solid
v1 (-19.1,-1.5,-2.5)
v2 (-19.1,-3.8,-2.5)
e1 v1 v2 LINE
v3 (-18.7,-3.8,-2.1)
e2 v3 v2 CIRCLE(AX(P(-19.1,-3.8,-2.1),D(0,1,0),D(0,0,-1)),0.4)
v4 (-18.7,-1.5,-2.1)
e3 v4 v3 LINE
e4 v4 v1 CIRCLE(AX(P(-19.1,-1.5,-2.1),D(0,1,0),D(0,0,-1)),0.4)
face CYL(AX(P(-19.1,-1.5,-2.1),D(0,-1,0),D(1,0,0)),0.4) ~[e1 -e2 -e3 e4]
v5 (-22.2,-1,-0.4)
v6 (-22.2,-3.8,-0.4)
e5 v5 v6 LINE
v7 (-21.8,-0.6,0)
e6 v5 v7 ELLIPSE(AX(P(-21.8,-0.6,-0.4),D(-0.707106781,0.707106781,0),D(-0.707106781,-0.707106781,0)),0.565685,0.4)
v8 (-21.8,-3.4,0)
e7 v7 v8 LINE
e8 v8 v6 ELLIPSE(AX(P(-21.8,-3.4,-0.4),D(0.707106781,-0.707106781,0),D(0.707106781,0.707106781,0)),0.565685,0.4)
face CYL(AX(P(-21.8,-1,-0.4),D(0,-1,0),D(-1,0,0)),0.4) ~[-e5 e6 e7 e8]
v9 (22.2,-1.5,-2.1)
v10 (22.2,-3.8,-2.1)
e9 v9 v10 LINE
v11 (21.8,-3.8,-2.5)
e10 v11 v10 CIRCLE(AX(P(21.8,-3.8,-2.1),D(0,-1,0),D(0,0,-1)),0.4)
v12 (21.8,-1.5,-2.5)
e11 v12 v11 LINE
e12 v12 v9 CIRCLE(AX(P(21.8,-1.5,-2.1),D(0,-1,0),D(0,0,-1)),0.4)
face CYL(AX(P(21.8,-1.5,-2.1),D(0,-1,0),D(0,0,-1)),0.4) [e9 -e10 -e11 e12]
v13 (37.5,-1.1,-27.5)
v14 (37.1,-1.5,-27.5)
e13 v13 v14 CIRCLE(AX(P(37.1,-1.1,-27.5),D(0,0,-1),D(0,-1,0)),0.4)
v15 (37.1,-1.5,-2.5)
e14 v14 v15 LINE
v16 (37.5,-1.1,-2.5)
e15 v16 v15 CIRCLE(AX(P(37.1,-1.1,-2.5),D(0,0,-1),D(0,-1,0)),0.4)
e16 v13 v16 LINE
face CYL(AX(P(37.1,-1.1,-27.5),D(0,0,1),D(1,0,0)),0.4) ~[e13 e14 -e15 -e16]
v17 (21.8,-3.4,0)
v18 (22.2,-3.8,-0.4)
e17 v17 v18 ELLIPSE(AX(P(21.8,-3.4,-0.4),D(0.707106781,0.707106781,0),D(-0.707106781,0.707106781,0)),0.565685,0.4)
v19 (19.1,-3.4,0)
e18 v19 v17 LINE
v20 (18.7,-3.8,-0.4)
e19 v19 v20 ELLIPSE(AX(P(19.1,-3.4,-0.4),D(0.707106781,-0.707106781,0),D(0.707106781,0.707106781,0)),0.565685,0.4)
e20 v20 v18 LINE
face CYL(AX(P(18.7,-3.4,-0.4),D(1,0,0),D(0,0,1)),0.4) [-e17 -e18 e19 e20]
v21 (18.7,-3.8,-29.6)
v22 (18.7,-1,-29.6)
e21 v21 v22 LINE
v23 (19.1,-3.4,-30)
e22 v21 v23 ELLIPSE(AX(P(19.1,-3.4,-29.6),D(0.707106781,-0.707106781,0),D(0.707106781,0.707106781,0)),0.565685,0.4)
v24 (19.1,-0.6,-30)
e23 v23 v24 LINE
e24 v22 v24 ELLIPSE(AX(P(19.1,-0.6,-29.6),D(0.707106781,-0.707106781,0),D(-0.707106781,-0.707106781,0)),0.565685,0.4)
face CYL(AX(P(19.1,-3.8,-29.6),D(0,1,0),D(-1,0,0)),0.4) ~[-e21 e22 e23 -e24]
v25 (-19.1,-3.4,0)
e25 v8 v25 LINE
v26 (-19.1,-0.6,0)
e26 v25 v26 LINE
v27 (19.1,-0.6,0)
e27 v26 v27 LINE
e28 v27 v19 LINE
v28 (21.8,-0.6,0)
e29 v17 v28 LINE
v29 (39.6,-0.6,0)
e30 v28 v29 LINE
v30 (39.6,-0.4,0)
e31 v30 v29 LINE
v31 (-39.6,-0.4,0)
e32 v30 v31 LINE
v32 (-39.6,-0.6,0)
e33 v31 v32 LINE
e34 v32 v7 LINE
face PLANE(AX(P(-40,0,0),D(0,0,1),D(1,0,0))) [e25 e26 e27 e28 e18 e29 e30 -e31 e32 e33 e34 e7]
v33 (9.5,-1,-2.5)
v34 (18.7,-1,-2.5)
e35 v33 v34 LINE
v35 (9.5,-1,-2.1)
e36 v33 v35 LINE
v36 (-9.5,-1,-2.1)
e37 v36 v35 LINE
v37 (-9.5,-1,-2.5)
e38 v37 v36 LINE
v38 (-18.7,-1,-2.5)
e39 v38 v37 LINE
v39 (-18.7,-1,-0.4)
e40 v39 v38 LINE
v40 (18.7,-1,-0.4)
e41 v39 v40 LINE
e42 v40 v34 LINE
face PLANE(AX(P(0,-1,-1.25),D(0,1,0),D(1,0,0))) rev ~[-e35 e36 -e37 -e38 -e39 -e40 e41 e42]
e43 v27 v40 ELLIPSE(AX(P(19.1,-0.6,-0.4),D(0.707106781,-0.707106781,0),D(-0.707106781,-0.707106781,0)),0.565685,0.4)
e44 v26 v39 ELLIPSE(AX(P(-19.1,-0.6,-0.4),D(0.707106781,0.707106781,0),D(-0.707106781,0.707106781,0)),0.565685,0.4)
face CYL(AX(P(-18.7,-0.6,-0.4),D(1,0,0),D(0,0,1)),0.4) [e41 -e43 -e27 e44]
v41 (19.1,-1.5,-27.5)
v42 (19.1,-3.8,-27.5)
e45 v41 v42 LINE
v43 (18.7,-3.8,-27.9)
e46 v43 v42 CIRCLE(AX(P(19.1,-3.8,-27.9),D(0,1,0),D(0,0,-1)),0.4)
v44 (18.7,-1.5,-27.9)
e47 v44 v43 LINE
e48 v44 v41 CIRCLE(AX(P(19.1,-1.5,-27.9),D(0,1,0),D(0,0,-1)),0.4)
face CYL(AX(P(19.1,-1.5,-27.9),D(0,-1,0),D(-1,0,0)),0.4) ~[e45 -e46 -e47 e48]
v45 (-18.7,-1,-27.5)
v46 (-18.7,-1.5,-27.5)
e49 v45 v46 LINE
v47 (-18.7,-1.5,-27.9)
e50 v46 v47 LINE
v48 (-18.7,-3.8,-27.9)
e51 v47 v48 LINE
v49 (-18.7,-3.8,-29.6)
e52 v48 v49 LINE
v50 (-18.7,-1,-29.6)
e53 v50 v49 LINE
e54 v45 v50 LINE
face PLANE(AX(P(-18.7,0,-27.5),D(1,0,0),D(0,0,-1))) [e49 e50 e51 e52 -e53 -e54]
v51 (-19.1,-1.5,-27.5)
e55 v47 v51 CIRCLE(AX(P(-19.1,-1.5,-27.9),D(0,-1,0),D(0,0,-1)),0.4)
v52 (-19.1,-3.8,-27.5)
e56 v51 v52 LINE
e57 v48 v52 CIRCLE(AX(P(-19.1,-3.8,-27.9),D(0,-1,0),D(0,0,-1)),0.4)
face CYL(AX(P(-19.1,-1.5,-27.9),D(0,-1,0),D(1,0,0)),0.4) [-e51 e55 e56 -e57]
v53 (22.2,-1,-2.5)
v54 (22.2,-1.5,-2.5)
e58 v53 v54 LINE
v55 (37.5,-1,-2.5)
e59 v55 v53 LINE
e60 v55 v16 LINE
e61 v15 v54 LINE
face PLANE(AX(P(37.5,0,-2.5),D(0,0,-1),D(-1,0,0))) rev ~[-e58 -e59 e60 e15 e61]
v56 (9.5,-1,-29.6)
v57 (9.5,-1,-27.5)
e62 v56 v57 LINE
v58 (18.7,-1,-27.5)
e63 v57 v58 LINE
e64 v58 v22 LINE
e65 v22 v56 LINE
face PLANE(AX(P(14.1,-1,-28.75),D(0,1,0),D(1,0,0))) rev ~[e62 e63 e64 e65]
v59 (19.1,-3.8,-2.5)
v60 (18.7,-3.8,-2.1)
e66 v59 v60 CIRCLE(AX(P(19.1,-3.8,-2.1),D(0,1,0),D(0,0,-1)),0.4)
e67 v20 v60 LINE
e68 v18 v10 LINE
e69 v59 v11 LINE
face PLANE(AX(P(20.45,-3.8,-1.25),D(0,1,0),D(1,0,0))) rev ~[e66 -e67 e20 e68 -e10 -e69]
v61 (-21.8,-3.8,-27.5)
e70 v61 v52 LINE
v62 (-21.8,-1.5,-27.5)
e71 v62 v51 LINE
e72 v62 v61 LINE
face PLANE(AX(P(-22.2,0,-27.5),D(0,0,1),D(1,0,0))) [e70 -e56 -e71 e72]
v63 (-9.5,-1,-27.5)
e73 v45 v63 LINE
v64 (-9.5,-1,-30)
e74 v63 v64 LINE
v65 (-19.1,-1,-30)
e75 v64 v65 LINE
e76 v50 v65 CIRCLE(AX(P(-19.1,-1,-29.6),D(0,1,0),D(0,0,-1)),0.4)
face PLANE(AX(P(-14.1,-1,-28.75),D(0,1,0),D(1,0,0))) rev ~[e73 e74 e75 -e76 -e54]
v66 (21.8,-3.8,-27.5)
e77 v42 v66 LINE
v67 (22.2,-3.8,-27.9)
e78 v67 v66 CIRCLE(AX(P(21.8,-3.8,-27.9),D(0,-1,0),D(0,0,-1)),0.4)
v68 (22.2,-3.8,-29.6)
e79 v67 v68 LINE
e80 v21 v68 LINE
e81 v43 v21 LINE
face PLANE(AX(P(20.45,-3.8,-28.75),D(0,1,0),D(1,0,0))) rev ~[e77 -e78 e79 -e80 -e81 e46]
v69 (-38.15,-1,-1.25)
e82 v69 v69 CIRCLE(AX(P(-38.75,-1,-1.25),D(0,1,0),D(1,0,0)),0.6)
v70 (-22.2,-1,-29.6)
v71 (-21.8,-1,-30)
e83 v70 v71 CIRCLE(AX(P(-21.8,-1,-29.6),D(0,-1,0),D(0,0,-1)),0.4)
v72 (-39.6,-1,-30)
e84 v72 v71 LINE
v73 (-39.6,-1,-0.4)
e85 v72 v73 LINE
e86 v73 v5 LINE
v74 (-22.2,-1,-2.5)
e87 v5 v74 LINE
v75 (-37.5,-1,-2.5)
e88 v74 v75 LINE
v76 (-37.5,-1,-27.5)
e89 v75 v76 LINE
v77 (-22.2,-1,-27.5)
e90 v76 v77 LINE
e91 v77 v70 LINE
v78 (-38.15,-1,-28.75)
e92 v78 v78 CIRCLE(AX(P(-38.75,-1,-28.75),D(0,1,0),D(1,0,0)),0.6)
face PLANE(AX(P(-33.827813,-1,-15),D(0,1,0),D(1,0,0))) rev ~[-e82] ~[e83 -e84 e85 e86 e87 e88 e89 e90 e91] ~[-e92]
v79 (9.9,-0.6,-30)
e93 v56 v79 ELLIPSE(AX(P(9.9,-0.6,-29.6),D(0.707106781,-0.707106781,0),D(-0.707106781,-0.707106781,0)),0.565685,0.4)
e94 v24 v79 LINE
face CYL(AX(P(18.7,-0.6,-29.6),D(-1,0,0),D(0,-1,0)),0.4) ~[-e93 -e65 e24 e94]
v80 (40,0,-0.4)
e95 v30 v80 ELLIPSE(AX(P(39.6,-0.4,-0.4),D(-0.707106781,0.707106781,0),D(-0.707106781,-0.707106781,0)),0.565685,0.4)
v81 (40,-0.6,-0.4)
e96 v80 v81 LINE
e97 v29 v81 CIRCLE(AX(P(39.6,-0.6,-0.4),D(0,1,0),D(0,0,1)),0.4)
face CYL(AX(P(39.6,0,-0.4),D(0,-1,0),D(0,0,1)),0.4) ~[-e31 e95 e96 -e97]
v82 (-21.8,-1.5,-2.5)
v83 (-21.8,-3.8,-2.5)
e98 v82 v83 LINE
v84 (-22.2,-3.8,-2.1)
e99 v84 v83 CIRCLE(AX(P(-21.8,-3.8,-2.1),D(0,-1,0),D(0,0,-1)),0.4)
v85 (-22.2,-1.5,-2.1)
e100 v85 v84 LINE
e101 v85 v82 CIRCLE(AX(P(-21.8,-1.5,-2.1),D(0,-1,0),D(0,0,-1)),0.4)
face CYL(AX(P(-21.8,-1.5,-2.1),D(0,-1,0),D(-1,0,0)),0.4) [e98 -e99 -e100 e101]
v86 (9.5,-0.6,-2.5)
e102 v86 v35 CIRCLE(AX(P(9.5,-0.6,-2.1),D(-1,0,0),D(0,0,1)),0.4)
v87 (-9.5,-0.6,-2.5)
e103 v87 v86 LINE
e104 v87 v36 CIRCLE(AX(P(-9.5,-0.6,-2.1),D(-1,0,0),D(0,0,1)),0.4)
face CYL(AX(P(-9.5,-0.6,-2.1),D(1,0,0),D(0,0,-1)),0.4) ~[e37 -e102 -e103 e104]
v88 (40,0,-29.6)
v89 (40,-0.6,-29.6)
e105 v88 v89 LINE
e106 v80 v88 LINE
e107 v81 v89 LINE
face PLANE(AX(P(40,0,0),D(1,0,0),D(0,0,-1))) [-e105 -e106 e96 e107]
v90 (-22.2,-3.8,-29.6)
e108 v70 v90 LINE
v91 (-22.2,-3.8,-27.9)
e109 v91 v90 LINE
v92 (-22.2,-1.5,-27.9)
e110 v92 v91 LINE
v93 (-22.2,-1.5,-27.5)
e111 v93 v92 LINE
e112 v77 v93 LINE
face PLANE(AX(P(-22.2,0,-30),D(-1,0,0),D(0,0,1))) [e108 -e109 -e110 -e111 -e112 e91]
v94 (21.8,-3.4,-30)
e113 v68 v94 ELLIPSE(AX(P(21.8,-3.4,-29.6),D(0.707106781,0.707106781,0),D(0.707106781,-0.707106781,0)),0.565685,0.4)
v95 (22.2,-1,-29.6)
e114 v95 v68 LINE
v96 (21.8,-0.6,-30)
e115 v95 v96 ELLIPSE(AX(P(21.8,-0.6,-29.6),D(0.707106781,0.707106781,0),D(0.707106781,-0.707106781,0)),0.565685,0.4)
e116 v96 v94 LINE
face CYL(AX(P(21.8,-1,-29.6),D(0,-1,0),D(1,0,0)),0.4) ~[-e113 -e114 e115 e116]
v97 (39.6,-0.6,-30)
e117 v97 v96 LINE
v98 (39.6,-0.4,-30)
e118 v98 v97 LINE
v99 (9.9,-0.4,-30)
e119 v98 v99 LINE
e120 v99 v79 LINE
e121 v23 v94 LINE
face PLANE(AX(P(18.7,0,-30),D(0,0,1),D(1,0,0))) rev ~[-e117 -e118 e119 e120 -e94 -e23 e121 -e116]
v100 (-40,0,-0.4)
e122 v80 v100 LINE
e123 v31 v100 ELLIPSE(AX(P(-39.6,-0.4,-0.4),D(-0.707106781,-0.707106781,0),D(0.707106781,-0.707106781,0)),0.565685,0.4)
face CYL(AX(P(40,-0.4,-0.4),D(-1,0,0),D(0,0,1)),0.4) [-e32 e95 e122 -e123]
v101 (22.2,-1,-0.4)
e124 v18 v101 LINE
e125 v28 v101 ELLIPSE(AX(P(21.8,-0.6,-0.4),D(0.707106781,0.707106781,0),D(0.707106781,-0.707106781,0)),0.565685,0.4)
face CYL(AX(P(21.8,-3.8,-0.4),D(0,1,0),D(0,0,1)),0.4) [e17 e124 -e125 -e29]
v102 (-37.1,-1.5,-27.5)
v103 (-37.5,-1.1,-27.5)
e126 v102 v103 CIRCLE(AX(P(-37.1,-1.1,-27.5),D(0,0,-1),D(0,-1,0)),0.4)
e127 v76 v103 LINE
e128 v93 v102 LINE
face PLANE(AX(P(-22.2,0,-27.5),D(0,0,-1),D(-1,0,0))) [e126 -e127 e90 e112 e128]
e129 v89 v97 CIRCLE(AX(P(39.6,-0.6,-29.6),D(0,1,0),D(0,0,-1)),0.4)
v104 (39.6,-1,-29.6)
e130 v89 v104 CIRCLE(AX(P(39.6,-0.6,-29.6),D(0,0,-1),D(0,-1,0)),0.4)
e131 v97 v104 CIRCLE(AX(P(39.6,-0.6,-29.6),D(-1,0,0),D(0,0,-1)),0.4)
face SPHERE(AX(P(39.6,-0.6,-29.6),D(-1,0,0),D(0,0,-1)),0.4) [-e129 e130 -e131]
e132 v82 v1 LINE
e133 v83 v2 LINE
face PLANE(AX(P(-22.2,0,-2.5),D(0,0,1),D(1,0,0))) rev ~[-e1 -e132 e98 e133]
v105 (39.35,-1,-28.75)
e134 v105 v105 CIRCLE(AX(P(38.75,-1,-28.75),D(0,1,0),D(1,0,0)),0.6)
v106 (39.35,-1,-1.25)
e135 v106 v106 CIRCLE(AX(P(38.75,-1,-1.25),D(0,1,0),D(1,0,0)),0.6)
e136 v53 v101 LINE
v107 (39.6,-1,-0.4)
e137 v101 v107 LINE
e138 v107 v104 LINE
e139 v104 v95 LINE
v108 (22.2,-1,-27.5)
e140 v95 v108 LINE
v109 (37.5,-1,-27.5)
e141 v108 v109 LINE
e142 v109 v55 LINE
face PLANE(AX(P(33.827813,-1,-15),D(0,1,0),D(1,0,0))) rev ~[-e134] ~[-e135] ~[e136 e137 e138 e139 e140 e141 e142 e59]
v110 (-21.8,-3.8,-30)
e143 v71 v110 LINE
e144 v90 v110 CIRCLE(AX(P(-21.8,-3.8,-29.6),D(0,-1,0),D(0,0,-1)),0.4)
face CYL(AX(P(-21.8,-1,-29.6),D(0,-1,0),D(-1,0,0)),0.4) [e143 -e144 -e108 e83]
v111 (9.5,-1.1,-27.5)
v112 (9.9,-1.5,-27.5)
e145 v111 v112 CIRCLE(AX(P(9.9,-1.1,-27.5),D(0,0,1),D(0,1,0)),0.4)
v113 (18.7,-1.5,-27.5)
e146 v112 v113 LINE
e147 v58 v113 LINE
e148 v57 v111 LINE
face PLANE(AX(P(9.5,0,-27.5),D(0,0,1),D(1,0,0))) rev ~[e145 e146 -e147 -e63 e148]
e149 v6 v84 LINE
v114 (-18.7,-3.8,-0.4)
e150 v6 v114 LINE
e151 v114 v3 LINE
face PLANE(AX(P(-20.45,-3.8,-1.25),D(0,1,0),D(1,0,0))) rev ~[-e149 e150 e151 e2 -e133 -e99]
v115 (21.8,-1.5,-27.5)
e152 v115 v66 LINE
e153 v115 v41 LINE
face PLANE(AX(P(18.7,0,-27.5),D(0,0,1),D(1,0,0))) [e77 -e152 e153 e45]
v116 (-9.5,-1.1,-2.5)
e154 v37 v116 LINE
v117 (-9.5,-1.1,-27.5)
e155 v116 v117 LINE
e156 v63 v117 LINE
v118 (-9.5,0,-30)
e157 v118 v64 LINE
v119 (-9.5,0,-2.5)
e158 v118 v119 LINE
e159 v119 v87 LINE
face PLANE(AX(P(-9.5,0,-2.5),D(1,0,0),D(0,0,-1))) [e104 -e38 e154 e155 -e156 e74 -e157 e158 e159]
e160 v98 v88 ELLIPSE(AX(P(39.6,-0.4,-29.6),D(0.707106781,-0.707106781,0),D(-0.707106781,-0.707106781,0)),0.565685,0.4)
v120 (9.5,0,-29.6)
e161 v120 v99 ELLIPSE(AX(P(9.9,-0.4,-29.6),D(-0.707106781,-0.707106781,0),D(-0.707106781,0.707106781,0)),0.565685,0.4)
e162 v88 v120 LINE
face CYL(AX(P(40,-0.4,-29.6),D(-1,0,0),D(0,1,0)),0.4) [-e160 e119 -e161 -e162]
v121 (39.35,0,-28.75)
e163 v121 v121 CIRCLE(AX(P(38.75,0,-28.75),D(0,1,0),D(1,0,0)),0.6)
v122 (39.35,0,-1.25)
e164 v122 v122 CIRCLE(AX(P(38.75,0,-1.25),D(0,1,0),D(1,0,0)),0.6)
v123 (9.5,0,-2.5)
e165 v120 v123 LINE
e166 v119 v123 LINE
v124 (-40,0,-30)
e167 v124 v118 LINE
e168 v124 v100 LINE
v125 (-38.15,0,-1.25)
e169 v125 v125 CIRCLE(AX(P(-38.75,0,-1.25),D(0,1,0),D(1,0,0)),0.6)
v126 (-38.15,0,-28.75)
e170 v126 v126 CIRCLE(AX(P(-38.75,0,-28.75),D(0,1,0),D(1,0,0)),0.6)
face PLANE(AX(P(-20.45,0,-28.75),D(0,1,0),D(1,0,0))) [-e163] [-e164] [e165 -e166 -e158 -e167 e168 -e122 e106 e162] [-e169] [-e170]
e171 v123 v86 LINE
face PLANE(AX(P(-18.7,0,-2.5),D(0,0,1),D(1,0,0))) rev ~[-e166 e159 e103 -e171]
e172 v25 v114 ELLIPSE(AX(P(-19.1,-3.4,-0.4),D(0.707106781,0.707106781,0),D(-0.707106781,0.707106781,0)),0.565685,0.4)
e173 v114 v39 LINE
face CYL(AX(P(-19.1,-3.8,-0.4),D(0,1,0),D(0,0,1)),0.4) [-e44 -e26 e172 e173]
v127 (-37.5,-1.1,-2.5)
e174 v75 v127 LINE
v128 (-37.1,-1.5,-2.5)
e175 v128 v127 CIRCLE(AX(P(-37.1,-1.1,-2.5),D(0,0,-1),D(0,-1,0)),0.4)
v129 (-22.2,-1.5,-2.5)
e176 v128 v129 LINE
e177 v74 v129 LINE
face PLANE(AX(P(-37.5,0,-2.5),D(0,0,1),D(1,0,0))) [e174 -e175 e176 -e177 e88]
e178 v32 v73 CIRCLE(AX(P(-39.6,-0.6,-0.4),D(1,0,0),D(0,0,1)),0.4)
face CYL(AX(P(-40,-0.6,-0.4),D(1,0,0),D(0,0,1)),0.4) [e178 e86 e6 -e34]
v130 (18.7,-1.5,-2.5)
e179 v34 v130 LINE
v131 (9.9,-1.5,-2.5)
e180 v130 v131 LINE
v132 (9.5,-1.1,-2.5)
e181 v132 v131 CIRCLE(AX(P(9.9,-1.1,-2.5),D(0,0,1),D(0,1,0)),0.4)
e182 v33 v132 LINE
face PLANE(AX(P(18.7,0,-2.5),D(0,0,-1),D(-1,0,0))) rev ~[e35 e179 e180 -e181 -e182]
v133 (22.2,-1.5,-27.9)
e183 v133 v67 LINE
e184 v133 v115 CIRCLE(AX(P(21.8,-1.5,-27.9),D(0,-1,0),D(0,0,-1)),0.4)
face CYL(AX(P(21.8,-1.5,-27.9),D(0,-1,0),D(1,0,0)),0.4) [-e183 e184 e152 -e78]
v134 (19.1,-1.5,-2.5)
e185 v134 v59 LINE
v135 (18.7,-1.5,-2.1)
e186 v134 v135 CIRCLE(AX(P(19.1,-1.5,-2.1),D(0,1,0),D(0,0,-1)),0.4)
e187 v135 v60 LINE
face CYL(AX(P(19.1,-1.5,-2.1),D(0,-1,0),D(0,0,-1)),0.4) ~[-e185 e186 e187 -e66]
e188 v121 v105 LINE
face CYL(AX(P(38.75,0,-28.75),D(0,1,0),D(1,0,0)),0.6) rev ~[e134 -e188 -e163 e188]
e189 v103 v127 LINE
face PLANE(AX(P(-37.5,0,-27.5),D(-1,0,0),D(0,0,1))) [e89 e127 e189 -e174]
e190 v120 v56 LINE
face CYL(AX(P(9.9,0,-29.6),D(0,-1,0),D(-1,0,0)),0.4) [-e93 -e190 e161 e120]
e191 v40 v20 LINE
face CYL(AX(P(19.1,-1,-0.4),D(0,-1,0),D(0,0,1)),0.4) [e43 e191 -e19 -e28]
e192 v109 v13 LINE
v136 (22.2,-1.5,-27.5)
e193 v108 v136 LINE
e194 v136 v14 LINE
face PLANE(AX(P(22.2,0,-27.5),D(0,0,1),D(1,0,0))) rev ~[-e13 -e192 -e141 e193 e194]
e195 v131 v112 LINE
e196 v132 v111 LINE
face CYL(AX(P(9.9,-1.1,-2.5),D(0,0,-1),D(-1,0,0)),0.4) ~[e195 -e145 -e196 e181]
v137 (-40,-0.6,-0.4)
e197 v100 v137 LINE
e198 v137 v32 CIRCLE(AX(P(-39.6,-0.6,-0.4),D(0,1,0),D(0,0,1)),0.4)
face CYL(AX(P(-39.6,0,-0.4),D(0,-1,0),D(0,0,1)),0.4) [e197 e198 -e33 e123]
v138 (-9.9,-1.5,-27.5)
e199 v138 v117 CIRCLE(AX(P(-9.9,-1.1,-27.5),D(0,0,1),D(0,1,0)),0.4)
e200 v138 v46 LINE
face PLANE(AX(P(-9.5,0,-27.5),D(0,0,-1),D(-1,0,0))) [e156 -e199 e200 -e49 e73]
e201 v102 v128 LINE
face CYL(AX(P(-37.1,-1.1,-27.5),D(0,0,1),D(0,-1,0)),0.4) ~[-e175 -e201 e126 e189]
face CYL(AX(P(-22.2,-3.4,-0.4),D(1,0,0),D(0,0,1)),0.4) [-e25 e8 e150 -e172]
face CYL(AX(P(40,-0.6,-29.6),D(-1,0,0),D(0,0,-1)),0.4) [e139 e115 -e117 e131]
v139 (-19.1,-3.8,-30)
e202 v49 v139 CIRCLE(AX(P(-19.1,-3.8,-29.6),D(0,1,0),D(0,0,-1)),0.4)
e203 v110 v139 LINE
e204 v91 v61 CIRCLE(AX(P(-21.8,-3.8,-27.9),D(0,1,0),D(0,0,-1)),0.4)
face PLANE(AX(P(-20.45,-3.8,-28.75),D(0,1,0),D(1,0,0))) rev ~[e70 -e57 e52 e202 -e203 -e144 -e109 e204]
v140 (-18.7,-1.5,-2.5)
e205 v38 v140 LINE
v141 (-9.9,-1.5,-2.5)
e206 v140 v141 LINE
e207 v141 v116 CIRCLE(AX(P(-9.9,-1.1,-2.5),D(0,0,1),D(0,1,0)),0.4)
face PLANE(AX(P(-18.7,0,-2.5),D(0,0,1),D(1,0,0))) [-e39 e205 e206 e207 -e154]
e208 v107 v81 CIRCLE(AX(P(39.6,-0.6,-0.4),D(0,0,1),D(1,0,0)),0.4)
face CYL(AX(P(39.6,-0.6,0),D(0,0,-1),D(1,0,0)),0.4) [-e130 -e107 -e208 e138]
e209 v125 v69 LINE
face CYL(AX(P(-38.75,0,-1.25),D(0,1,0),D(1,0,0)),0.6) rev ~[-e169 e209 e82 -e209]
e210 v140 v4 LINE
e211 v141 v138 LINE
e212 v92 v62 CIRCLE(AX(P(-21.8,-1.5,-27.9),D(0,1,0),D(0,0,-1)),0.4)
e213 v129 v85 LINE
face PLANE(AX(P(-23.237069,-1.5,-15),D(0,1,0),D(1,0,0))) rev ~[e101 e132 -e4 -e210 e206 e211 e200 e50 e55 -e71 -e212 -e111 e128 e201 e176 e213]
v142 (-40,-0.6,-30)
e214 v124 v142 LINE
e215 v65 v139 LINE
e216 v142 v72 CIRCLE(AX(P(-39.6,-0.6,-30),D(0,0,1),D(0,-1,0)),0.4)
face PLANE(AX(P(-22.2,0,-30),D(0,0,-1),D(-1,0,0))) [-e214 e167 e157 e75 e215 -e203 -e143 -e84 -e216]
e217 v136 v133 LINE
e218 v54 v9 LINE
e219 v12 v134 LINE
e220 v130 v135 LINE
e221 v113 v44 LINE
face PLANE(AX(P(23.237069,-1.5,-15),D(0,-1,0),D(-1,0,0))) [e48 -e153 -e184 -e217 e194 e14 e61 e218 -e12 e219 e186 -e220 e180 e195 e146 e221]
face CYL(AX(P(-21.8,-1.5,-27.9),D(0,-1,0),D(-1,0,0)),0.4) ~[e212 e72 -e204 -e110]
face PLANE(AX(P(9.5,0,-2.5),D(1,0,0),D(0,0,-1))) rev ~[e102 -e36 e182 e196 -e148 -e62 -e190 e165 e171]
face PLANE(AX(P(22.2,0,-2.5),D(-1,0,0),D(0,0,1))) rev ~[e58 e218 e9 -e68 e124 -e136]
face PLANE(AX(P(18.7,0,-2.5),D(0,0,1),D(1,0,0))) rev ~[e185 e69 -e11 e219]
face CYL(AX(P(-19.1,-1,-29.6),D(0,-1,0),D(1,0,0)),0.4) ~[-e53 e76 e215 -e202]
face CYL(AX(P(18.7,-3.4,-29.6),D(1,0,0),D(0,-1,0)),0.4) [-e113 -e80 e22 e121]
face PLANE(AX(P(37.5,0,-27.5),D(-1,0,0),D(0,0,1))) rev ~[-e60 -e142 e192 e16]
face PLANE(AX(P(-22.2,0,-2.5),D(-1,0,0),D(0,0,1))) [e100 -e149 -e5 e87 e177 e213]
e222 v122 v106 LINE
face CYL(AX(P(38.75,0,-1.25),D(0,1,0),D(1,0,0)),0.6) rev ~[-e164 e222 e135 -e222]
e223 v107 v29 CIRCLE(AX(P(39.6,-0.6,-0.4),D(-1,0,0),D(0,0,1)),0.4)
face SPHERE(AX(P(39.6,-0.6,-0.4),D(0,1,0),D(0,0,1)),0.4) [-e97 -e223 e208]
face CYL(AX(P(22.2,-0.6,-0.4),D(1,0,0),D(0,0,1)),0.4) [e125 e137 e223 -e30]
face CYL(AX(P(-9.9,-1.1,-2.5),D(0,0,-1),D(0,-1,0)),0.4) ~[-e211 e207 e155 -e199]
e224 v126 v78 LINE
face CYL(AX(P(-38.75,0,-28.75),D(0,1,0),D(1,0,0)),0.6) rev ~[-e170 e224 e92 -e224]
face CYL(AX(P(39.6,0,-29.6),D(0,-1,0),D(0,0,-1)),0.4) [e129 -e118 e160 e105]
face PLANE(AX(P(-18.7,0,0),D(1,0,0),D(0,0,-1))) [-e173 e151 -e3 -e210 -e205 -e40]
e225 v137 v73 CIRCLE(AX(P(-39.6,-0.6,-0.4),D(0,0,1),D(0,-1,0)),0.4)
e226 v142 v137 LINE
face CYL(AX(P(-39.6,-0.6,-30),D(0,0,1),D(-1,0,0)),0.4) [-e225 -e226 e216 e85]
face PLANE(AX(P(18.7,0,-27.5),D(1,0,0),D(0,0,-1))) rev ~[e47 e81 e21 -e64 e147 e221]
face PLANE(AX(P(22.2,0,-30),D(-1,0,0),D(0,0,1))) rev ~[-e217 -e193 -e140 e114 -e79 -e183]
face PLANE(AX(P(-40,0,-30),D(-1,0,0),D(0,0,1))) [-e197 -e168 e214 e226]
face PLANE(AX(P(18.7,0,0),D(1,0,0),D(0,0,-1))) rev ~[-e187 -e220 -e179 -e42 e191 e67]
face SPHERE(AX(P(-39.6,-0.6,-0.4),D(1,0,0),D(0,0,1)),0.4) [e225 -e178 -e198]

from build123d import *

# Parameters (mm, degrees)
SKETCH1_R             = 0.6
BOSS_EXTRUDE1_DEPTH   = 1
SKETCH1_W             = 37.4
SKETCH1_H             = 2.5
BOSS_EXTRUDE1_2_DEPTH = 1
BOSS_EXTRUDE1_3_DEPTH = 1
BOSS_EXTRUDE1_4_DEPTH = 1
SKETCH1_W_2           = 9.2
BOSS_EXTRUDE1_5_DEPTH = 1
BOSS_EXTRUDE2_DEPTH   = 1.5
SKETCH4_W             = 3.5
SKETCH4_H             = 2.5
BOSS_EXTRUDE3_DEPTH   = 3.8
FILLET1_R             = 0.4


with BuildPart() as part:
    # Sketch1 → Boss-Extrude1 (new body)
    with BuildSketch(Plane(origin=(0, 0, 0), x_dir=(1, 0, 0), z_dir=(0, 1, 0))):
        Polygon((-22.2, 30), (-25.229966902, 30), (-40, 30), (-40, 0), (-25.229966902, 0), (-22.2, 0), (-22.2, 2.5), (-37.5, 2.5), (-37.5, 27.5), (-22.2, 27.5), align=None)
        with Locations((-38.75, 1.25)):
            Circle(SKETCH1_R, mode=Mode.SUBTRACT)
        with Locations((-38.75, 28.75)):
            Circle(SKETCH1_R, mode=Mode.SUBTRACT)
    extrude(amount=-BOSS_EXTRUDE1_DEPTH)



with BuildPart() as body_2:
    # Sketch1 → Boss-Extrude1 2 (new body)
    with BuildSketch(Plane(origin=(0, 0, 0), x_dir=(1, 0, 0), z_dir=(0, 1, 0))):
        with Locations((0, 1.25)):
            Rectangle(SKETCH1_W, SKETCH1_H)
    extrude(amount=-BOSS_EXTRUDE1_2_DEPTH)


with BuildPart() as body_3:
    # Sketch1 → Boss-Extrude1 3 (new body)
    with BuildSketch(Plane(origin=(0, 0, 0), x_dir=(1, 0, 0), z_dir=(0, 1, 0))):
        Polygon((12, 30), (10, 30), (9.5, 30), (9.5, 27.5), (18.7, 27.5), (18.7, 30), align=None)
    extrude(amount=-BOSS_EXTRUDE1_3_DEPTH)


with BuildPart() as body_4:
    # Sketch1 → Boss-Extrude1 4 (new body)
    with BuildSketch(Plane(origin=(0, 0, 0), x_dir=(1, 0, 0), z_dir=(0, 1, 0))):
        Polygon((25.229966902, 30), (22.2, 30), (22.2, 27.5), (37.5, 27.5), (37.5, 2.5), (22.2, 2.5), (22.2, 0), (25.229966902, 0), (40, 0), (40, 30), align=None)
        with Locations((38.75, 1.25)):
            Circle(SKETCH1_R, mode=Mode.SUBTRACT)
        with Locations((38.75, 28.75)):
            Circle(SKETCH1_R, mode=Mode.SUBTRACT)
    extrude(amount=-BOSS_EXTRUDE1_4_DEPTH)


with BuildPart() as body_5:
    # Sketch1 → Boss-Extrude1 5 (new body)
    with BuildSketch(Plane(origin=(0, 0, 0), x_dir=(1, 0, 0), z_dir=(0, 1, 0))):
        with Locations((-14.1, 28.75)):
            Rectangle(SKETCH1_W_2, SKETCH1_H)
    extrude(amount=-BOSS_EXTRUDE1_5_DEPTH)


with BuildPart() as part_1:
    add(part.part)

    add(body_2.part)  # Boss-Extrude2 merges body 2

    add(body_3.part)  # Boss-Extrude2 merges body 3

    add(body_4.part)  # Boss-Extrude2 merges body 4

    add(body_5.part)  # Boss-Extrude2 merges body 5
    # Sketch3 → Boss-Extrude2 (add)
    with BuildSketch(Plane(origin=(0, 0, 0), x_dir=(1, 0, 0), z_dir=(0, 1, 0))):
        Polygon((-22.2, 27.5), (-37.5, 27.5), (-37.5, 2.5), (-22.2, 2.5), (-22.2, 0), (-18.7, 0), (-18.7, 2.5), (-9.5, 2.5), (-9.5, 27.5), (-18.7, 27.5), (-18.7, 30), (-22.2, 30), align=None)
        Polygon((9.5, 27.5), (18.7, 27.5), (18.7, 30), (22.2, 30), (22.2, 27.5), (37.5, 27.5), (37.5, 2.5), (22.2, 2.5), (22.2, 0), (18.7, 0), (18.7, 2.5), (9.5, 2.5), align=None)
    extrude(amount=-BOSS_EXTRUDE2_DEPTH)

    # Sketch4 → Boss-Extrude3 (add)
    with BuildSketch(Plane(origin=(0, 0, 0), x_dir=(1, 0, 0), z_dir=(0, 1, 0))):
        with Locations((-20.45, 28.75)):
            Rectangle(SKETCH4_W, SKETCH4_H)
        with Locations((20.45, 28.75)):
            Rectangle(SKETCH4_W, SKETCH4_H)
        with Locations((-20.45, 1.25)):
            Rectangle(SKETCH4_W, SKETCH4_H)
        with Locations((20.45, 1.25)):
            Rectangle(SKETCH4_W, SKETCH4_H)
    extrude(amount=-BOSS_EXTRUDE3_DEPTH)

    # Fillet1
    fillet1_edges = [part_1.edges().sort_by_distance(p)[0] for p in [
        (-22.2, -2.65, -27.5),
        (-18.7, -2.65, -27.5),
        (-18.7, -2.4, -30),
        (-22.2, -2.4, -30),
        (14.1, -1, -30),
        (18.7, -2.4, -30),
        (20.45, -3.8, -30),
        (22.2, -2.4, -30),
        (31.1, -1, -30),
        (40, -0.5, -30),
        (24.75, 0, -30),
        (9.5, -0.5, -30),
        (-18.7, -2.4, 0),
        (-20.45, -3.8, 0),
        (-22.2, -2.4, 0),
        (-31.1, -1, 0),
        (-40, -0.5, 0),
        (0, 0, 0),
        (40, -0.5, 0),
        (31.1, -1, 0),
        (22.2, -2.4, 0),
        (20.45, -3.8, 0),
        (18.7, -2.4, 0),
        (0, -1, 0),
        (-40, -1, -15),
        (0, -1, -2.5),
        (9.5, -1.5, -15),
        (-9.5, -1.5, -15),
        (40, -1, -15),
        (37.5, -1.5, -15),
        (-37.5, -1.5, -15),
        (-18.7, -2.65, -2.5),
        (-22.2, -2.65, -2.5),
        (18.7, -2.65, -2.5),
        (22.2, -2.65, -2.5),
        (22.2, -2.65, -27.5),
        (18.7, -2.65, -27.5),
    ]]
    fillet(fillet1_edges, radius=FILLET1_R)


solid = part_1.part
